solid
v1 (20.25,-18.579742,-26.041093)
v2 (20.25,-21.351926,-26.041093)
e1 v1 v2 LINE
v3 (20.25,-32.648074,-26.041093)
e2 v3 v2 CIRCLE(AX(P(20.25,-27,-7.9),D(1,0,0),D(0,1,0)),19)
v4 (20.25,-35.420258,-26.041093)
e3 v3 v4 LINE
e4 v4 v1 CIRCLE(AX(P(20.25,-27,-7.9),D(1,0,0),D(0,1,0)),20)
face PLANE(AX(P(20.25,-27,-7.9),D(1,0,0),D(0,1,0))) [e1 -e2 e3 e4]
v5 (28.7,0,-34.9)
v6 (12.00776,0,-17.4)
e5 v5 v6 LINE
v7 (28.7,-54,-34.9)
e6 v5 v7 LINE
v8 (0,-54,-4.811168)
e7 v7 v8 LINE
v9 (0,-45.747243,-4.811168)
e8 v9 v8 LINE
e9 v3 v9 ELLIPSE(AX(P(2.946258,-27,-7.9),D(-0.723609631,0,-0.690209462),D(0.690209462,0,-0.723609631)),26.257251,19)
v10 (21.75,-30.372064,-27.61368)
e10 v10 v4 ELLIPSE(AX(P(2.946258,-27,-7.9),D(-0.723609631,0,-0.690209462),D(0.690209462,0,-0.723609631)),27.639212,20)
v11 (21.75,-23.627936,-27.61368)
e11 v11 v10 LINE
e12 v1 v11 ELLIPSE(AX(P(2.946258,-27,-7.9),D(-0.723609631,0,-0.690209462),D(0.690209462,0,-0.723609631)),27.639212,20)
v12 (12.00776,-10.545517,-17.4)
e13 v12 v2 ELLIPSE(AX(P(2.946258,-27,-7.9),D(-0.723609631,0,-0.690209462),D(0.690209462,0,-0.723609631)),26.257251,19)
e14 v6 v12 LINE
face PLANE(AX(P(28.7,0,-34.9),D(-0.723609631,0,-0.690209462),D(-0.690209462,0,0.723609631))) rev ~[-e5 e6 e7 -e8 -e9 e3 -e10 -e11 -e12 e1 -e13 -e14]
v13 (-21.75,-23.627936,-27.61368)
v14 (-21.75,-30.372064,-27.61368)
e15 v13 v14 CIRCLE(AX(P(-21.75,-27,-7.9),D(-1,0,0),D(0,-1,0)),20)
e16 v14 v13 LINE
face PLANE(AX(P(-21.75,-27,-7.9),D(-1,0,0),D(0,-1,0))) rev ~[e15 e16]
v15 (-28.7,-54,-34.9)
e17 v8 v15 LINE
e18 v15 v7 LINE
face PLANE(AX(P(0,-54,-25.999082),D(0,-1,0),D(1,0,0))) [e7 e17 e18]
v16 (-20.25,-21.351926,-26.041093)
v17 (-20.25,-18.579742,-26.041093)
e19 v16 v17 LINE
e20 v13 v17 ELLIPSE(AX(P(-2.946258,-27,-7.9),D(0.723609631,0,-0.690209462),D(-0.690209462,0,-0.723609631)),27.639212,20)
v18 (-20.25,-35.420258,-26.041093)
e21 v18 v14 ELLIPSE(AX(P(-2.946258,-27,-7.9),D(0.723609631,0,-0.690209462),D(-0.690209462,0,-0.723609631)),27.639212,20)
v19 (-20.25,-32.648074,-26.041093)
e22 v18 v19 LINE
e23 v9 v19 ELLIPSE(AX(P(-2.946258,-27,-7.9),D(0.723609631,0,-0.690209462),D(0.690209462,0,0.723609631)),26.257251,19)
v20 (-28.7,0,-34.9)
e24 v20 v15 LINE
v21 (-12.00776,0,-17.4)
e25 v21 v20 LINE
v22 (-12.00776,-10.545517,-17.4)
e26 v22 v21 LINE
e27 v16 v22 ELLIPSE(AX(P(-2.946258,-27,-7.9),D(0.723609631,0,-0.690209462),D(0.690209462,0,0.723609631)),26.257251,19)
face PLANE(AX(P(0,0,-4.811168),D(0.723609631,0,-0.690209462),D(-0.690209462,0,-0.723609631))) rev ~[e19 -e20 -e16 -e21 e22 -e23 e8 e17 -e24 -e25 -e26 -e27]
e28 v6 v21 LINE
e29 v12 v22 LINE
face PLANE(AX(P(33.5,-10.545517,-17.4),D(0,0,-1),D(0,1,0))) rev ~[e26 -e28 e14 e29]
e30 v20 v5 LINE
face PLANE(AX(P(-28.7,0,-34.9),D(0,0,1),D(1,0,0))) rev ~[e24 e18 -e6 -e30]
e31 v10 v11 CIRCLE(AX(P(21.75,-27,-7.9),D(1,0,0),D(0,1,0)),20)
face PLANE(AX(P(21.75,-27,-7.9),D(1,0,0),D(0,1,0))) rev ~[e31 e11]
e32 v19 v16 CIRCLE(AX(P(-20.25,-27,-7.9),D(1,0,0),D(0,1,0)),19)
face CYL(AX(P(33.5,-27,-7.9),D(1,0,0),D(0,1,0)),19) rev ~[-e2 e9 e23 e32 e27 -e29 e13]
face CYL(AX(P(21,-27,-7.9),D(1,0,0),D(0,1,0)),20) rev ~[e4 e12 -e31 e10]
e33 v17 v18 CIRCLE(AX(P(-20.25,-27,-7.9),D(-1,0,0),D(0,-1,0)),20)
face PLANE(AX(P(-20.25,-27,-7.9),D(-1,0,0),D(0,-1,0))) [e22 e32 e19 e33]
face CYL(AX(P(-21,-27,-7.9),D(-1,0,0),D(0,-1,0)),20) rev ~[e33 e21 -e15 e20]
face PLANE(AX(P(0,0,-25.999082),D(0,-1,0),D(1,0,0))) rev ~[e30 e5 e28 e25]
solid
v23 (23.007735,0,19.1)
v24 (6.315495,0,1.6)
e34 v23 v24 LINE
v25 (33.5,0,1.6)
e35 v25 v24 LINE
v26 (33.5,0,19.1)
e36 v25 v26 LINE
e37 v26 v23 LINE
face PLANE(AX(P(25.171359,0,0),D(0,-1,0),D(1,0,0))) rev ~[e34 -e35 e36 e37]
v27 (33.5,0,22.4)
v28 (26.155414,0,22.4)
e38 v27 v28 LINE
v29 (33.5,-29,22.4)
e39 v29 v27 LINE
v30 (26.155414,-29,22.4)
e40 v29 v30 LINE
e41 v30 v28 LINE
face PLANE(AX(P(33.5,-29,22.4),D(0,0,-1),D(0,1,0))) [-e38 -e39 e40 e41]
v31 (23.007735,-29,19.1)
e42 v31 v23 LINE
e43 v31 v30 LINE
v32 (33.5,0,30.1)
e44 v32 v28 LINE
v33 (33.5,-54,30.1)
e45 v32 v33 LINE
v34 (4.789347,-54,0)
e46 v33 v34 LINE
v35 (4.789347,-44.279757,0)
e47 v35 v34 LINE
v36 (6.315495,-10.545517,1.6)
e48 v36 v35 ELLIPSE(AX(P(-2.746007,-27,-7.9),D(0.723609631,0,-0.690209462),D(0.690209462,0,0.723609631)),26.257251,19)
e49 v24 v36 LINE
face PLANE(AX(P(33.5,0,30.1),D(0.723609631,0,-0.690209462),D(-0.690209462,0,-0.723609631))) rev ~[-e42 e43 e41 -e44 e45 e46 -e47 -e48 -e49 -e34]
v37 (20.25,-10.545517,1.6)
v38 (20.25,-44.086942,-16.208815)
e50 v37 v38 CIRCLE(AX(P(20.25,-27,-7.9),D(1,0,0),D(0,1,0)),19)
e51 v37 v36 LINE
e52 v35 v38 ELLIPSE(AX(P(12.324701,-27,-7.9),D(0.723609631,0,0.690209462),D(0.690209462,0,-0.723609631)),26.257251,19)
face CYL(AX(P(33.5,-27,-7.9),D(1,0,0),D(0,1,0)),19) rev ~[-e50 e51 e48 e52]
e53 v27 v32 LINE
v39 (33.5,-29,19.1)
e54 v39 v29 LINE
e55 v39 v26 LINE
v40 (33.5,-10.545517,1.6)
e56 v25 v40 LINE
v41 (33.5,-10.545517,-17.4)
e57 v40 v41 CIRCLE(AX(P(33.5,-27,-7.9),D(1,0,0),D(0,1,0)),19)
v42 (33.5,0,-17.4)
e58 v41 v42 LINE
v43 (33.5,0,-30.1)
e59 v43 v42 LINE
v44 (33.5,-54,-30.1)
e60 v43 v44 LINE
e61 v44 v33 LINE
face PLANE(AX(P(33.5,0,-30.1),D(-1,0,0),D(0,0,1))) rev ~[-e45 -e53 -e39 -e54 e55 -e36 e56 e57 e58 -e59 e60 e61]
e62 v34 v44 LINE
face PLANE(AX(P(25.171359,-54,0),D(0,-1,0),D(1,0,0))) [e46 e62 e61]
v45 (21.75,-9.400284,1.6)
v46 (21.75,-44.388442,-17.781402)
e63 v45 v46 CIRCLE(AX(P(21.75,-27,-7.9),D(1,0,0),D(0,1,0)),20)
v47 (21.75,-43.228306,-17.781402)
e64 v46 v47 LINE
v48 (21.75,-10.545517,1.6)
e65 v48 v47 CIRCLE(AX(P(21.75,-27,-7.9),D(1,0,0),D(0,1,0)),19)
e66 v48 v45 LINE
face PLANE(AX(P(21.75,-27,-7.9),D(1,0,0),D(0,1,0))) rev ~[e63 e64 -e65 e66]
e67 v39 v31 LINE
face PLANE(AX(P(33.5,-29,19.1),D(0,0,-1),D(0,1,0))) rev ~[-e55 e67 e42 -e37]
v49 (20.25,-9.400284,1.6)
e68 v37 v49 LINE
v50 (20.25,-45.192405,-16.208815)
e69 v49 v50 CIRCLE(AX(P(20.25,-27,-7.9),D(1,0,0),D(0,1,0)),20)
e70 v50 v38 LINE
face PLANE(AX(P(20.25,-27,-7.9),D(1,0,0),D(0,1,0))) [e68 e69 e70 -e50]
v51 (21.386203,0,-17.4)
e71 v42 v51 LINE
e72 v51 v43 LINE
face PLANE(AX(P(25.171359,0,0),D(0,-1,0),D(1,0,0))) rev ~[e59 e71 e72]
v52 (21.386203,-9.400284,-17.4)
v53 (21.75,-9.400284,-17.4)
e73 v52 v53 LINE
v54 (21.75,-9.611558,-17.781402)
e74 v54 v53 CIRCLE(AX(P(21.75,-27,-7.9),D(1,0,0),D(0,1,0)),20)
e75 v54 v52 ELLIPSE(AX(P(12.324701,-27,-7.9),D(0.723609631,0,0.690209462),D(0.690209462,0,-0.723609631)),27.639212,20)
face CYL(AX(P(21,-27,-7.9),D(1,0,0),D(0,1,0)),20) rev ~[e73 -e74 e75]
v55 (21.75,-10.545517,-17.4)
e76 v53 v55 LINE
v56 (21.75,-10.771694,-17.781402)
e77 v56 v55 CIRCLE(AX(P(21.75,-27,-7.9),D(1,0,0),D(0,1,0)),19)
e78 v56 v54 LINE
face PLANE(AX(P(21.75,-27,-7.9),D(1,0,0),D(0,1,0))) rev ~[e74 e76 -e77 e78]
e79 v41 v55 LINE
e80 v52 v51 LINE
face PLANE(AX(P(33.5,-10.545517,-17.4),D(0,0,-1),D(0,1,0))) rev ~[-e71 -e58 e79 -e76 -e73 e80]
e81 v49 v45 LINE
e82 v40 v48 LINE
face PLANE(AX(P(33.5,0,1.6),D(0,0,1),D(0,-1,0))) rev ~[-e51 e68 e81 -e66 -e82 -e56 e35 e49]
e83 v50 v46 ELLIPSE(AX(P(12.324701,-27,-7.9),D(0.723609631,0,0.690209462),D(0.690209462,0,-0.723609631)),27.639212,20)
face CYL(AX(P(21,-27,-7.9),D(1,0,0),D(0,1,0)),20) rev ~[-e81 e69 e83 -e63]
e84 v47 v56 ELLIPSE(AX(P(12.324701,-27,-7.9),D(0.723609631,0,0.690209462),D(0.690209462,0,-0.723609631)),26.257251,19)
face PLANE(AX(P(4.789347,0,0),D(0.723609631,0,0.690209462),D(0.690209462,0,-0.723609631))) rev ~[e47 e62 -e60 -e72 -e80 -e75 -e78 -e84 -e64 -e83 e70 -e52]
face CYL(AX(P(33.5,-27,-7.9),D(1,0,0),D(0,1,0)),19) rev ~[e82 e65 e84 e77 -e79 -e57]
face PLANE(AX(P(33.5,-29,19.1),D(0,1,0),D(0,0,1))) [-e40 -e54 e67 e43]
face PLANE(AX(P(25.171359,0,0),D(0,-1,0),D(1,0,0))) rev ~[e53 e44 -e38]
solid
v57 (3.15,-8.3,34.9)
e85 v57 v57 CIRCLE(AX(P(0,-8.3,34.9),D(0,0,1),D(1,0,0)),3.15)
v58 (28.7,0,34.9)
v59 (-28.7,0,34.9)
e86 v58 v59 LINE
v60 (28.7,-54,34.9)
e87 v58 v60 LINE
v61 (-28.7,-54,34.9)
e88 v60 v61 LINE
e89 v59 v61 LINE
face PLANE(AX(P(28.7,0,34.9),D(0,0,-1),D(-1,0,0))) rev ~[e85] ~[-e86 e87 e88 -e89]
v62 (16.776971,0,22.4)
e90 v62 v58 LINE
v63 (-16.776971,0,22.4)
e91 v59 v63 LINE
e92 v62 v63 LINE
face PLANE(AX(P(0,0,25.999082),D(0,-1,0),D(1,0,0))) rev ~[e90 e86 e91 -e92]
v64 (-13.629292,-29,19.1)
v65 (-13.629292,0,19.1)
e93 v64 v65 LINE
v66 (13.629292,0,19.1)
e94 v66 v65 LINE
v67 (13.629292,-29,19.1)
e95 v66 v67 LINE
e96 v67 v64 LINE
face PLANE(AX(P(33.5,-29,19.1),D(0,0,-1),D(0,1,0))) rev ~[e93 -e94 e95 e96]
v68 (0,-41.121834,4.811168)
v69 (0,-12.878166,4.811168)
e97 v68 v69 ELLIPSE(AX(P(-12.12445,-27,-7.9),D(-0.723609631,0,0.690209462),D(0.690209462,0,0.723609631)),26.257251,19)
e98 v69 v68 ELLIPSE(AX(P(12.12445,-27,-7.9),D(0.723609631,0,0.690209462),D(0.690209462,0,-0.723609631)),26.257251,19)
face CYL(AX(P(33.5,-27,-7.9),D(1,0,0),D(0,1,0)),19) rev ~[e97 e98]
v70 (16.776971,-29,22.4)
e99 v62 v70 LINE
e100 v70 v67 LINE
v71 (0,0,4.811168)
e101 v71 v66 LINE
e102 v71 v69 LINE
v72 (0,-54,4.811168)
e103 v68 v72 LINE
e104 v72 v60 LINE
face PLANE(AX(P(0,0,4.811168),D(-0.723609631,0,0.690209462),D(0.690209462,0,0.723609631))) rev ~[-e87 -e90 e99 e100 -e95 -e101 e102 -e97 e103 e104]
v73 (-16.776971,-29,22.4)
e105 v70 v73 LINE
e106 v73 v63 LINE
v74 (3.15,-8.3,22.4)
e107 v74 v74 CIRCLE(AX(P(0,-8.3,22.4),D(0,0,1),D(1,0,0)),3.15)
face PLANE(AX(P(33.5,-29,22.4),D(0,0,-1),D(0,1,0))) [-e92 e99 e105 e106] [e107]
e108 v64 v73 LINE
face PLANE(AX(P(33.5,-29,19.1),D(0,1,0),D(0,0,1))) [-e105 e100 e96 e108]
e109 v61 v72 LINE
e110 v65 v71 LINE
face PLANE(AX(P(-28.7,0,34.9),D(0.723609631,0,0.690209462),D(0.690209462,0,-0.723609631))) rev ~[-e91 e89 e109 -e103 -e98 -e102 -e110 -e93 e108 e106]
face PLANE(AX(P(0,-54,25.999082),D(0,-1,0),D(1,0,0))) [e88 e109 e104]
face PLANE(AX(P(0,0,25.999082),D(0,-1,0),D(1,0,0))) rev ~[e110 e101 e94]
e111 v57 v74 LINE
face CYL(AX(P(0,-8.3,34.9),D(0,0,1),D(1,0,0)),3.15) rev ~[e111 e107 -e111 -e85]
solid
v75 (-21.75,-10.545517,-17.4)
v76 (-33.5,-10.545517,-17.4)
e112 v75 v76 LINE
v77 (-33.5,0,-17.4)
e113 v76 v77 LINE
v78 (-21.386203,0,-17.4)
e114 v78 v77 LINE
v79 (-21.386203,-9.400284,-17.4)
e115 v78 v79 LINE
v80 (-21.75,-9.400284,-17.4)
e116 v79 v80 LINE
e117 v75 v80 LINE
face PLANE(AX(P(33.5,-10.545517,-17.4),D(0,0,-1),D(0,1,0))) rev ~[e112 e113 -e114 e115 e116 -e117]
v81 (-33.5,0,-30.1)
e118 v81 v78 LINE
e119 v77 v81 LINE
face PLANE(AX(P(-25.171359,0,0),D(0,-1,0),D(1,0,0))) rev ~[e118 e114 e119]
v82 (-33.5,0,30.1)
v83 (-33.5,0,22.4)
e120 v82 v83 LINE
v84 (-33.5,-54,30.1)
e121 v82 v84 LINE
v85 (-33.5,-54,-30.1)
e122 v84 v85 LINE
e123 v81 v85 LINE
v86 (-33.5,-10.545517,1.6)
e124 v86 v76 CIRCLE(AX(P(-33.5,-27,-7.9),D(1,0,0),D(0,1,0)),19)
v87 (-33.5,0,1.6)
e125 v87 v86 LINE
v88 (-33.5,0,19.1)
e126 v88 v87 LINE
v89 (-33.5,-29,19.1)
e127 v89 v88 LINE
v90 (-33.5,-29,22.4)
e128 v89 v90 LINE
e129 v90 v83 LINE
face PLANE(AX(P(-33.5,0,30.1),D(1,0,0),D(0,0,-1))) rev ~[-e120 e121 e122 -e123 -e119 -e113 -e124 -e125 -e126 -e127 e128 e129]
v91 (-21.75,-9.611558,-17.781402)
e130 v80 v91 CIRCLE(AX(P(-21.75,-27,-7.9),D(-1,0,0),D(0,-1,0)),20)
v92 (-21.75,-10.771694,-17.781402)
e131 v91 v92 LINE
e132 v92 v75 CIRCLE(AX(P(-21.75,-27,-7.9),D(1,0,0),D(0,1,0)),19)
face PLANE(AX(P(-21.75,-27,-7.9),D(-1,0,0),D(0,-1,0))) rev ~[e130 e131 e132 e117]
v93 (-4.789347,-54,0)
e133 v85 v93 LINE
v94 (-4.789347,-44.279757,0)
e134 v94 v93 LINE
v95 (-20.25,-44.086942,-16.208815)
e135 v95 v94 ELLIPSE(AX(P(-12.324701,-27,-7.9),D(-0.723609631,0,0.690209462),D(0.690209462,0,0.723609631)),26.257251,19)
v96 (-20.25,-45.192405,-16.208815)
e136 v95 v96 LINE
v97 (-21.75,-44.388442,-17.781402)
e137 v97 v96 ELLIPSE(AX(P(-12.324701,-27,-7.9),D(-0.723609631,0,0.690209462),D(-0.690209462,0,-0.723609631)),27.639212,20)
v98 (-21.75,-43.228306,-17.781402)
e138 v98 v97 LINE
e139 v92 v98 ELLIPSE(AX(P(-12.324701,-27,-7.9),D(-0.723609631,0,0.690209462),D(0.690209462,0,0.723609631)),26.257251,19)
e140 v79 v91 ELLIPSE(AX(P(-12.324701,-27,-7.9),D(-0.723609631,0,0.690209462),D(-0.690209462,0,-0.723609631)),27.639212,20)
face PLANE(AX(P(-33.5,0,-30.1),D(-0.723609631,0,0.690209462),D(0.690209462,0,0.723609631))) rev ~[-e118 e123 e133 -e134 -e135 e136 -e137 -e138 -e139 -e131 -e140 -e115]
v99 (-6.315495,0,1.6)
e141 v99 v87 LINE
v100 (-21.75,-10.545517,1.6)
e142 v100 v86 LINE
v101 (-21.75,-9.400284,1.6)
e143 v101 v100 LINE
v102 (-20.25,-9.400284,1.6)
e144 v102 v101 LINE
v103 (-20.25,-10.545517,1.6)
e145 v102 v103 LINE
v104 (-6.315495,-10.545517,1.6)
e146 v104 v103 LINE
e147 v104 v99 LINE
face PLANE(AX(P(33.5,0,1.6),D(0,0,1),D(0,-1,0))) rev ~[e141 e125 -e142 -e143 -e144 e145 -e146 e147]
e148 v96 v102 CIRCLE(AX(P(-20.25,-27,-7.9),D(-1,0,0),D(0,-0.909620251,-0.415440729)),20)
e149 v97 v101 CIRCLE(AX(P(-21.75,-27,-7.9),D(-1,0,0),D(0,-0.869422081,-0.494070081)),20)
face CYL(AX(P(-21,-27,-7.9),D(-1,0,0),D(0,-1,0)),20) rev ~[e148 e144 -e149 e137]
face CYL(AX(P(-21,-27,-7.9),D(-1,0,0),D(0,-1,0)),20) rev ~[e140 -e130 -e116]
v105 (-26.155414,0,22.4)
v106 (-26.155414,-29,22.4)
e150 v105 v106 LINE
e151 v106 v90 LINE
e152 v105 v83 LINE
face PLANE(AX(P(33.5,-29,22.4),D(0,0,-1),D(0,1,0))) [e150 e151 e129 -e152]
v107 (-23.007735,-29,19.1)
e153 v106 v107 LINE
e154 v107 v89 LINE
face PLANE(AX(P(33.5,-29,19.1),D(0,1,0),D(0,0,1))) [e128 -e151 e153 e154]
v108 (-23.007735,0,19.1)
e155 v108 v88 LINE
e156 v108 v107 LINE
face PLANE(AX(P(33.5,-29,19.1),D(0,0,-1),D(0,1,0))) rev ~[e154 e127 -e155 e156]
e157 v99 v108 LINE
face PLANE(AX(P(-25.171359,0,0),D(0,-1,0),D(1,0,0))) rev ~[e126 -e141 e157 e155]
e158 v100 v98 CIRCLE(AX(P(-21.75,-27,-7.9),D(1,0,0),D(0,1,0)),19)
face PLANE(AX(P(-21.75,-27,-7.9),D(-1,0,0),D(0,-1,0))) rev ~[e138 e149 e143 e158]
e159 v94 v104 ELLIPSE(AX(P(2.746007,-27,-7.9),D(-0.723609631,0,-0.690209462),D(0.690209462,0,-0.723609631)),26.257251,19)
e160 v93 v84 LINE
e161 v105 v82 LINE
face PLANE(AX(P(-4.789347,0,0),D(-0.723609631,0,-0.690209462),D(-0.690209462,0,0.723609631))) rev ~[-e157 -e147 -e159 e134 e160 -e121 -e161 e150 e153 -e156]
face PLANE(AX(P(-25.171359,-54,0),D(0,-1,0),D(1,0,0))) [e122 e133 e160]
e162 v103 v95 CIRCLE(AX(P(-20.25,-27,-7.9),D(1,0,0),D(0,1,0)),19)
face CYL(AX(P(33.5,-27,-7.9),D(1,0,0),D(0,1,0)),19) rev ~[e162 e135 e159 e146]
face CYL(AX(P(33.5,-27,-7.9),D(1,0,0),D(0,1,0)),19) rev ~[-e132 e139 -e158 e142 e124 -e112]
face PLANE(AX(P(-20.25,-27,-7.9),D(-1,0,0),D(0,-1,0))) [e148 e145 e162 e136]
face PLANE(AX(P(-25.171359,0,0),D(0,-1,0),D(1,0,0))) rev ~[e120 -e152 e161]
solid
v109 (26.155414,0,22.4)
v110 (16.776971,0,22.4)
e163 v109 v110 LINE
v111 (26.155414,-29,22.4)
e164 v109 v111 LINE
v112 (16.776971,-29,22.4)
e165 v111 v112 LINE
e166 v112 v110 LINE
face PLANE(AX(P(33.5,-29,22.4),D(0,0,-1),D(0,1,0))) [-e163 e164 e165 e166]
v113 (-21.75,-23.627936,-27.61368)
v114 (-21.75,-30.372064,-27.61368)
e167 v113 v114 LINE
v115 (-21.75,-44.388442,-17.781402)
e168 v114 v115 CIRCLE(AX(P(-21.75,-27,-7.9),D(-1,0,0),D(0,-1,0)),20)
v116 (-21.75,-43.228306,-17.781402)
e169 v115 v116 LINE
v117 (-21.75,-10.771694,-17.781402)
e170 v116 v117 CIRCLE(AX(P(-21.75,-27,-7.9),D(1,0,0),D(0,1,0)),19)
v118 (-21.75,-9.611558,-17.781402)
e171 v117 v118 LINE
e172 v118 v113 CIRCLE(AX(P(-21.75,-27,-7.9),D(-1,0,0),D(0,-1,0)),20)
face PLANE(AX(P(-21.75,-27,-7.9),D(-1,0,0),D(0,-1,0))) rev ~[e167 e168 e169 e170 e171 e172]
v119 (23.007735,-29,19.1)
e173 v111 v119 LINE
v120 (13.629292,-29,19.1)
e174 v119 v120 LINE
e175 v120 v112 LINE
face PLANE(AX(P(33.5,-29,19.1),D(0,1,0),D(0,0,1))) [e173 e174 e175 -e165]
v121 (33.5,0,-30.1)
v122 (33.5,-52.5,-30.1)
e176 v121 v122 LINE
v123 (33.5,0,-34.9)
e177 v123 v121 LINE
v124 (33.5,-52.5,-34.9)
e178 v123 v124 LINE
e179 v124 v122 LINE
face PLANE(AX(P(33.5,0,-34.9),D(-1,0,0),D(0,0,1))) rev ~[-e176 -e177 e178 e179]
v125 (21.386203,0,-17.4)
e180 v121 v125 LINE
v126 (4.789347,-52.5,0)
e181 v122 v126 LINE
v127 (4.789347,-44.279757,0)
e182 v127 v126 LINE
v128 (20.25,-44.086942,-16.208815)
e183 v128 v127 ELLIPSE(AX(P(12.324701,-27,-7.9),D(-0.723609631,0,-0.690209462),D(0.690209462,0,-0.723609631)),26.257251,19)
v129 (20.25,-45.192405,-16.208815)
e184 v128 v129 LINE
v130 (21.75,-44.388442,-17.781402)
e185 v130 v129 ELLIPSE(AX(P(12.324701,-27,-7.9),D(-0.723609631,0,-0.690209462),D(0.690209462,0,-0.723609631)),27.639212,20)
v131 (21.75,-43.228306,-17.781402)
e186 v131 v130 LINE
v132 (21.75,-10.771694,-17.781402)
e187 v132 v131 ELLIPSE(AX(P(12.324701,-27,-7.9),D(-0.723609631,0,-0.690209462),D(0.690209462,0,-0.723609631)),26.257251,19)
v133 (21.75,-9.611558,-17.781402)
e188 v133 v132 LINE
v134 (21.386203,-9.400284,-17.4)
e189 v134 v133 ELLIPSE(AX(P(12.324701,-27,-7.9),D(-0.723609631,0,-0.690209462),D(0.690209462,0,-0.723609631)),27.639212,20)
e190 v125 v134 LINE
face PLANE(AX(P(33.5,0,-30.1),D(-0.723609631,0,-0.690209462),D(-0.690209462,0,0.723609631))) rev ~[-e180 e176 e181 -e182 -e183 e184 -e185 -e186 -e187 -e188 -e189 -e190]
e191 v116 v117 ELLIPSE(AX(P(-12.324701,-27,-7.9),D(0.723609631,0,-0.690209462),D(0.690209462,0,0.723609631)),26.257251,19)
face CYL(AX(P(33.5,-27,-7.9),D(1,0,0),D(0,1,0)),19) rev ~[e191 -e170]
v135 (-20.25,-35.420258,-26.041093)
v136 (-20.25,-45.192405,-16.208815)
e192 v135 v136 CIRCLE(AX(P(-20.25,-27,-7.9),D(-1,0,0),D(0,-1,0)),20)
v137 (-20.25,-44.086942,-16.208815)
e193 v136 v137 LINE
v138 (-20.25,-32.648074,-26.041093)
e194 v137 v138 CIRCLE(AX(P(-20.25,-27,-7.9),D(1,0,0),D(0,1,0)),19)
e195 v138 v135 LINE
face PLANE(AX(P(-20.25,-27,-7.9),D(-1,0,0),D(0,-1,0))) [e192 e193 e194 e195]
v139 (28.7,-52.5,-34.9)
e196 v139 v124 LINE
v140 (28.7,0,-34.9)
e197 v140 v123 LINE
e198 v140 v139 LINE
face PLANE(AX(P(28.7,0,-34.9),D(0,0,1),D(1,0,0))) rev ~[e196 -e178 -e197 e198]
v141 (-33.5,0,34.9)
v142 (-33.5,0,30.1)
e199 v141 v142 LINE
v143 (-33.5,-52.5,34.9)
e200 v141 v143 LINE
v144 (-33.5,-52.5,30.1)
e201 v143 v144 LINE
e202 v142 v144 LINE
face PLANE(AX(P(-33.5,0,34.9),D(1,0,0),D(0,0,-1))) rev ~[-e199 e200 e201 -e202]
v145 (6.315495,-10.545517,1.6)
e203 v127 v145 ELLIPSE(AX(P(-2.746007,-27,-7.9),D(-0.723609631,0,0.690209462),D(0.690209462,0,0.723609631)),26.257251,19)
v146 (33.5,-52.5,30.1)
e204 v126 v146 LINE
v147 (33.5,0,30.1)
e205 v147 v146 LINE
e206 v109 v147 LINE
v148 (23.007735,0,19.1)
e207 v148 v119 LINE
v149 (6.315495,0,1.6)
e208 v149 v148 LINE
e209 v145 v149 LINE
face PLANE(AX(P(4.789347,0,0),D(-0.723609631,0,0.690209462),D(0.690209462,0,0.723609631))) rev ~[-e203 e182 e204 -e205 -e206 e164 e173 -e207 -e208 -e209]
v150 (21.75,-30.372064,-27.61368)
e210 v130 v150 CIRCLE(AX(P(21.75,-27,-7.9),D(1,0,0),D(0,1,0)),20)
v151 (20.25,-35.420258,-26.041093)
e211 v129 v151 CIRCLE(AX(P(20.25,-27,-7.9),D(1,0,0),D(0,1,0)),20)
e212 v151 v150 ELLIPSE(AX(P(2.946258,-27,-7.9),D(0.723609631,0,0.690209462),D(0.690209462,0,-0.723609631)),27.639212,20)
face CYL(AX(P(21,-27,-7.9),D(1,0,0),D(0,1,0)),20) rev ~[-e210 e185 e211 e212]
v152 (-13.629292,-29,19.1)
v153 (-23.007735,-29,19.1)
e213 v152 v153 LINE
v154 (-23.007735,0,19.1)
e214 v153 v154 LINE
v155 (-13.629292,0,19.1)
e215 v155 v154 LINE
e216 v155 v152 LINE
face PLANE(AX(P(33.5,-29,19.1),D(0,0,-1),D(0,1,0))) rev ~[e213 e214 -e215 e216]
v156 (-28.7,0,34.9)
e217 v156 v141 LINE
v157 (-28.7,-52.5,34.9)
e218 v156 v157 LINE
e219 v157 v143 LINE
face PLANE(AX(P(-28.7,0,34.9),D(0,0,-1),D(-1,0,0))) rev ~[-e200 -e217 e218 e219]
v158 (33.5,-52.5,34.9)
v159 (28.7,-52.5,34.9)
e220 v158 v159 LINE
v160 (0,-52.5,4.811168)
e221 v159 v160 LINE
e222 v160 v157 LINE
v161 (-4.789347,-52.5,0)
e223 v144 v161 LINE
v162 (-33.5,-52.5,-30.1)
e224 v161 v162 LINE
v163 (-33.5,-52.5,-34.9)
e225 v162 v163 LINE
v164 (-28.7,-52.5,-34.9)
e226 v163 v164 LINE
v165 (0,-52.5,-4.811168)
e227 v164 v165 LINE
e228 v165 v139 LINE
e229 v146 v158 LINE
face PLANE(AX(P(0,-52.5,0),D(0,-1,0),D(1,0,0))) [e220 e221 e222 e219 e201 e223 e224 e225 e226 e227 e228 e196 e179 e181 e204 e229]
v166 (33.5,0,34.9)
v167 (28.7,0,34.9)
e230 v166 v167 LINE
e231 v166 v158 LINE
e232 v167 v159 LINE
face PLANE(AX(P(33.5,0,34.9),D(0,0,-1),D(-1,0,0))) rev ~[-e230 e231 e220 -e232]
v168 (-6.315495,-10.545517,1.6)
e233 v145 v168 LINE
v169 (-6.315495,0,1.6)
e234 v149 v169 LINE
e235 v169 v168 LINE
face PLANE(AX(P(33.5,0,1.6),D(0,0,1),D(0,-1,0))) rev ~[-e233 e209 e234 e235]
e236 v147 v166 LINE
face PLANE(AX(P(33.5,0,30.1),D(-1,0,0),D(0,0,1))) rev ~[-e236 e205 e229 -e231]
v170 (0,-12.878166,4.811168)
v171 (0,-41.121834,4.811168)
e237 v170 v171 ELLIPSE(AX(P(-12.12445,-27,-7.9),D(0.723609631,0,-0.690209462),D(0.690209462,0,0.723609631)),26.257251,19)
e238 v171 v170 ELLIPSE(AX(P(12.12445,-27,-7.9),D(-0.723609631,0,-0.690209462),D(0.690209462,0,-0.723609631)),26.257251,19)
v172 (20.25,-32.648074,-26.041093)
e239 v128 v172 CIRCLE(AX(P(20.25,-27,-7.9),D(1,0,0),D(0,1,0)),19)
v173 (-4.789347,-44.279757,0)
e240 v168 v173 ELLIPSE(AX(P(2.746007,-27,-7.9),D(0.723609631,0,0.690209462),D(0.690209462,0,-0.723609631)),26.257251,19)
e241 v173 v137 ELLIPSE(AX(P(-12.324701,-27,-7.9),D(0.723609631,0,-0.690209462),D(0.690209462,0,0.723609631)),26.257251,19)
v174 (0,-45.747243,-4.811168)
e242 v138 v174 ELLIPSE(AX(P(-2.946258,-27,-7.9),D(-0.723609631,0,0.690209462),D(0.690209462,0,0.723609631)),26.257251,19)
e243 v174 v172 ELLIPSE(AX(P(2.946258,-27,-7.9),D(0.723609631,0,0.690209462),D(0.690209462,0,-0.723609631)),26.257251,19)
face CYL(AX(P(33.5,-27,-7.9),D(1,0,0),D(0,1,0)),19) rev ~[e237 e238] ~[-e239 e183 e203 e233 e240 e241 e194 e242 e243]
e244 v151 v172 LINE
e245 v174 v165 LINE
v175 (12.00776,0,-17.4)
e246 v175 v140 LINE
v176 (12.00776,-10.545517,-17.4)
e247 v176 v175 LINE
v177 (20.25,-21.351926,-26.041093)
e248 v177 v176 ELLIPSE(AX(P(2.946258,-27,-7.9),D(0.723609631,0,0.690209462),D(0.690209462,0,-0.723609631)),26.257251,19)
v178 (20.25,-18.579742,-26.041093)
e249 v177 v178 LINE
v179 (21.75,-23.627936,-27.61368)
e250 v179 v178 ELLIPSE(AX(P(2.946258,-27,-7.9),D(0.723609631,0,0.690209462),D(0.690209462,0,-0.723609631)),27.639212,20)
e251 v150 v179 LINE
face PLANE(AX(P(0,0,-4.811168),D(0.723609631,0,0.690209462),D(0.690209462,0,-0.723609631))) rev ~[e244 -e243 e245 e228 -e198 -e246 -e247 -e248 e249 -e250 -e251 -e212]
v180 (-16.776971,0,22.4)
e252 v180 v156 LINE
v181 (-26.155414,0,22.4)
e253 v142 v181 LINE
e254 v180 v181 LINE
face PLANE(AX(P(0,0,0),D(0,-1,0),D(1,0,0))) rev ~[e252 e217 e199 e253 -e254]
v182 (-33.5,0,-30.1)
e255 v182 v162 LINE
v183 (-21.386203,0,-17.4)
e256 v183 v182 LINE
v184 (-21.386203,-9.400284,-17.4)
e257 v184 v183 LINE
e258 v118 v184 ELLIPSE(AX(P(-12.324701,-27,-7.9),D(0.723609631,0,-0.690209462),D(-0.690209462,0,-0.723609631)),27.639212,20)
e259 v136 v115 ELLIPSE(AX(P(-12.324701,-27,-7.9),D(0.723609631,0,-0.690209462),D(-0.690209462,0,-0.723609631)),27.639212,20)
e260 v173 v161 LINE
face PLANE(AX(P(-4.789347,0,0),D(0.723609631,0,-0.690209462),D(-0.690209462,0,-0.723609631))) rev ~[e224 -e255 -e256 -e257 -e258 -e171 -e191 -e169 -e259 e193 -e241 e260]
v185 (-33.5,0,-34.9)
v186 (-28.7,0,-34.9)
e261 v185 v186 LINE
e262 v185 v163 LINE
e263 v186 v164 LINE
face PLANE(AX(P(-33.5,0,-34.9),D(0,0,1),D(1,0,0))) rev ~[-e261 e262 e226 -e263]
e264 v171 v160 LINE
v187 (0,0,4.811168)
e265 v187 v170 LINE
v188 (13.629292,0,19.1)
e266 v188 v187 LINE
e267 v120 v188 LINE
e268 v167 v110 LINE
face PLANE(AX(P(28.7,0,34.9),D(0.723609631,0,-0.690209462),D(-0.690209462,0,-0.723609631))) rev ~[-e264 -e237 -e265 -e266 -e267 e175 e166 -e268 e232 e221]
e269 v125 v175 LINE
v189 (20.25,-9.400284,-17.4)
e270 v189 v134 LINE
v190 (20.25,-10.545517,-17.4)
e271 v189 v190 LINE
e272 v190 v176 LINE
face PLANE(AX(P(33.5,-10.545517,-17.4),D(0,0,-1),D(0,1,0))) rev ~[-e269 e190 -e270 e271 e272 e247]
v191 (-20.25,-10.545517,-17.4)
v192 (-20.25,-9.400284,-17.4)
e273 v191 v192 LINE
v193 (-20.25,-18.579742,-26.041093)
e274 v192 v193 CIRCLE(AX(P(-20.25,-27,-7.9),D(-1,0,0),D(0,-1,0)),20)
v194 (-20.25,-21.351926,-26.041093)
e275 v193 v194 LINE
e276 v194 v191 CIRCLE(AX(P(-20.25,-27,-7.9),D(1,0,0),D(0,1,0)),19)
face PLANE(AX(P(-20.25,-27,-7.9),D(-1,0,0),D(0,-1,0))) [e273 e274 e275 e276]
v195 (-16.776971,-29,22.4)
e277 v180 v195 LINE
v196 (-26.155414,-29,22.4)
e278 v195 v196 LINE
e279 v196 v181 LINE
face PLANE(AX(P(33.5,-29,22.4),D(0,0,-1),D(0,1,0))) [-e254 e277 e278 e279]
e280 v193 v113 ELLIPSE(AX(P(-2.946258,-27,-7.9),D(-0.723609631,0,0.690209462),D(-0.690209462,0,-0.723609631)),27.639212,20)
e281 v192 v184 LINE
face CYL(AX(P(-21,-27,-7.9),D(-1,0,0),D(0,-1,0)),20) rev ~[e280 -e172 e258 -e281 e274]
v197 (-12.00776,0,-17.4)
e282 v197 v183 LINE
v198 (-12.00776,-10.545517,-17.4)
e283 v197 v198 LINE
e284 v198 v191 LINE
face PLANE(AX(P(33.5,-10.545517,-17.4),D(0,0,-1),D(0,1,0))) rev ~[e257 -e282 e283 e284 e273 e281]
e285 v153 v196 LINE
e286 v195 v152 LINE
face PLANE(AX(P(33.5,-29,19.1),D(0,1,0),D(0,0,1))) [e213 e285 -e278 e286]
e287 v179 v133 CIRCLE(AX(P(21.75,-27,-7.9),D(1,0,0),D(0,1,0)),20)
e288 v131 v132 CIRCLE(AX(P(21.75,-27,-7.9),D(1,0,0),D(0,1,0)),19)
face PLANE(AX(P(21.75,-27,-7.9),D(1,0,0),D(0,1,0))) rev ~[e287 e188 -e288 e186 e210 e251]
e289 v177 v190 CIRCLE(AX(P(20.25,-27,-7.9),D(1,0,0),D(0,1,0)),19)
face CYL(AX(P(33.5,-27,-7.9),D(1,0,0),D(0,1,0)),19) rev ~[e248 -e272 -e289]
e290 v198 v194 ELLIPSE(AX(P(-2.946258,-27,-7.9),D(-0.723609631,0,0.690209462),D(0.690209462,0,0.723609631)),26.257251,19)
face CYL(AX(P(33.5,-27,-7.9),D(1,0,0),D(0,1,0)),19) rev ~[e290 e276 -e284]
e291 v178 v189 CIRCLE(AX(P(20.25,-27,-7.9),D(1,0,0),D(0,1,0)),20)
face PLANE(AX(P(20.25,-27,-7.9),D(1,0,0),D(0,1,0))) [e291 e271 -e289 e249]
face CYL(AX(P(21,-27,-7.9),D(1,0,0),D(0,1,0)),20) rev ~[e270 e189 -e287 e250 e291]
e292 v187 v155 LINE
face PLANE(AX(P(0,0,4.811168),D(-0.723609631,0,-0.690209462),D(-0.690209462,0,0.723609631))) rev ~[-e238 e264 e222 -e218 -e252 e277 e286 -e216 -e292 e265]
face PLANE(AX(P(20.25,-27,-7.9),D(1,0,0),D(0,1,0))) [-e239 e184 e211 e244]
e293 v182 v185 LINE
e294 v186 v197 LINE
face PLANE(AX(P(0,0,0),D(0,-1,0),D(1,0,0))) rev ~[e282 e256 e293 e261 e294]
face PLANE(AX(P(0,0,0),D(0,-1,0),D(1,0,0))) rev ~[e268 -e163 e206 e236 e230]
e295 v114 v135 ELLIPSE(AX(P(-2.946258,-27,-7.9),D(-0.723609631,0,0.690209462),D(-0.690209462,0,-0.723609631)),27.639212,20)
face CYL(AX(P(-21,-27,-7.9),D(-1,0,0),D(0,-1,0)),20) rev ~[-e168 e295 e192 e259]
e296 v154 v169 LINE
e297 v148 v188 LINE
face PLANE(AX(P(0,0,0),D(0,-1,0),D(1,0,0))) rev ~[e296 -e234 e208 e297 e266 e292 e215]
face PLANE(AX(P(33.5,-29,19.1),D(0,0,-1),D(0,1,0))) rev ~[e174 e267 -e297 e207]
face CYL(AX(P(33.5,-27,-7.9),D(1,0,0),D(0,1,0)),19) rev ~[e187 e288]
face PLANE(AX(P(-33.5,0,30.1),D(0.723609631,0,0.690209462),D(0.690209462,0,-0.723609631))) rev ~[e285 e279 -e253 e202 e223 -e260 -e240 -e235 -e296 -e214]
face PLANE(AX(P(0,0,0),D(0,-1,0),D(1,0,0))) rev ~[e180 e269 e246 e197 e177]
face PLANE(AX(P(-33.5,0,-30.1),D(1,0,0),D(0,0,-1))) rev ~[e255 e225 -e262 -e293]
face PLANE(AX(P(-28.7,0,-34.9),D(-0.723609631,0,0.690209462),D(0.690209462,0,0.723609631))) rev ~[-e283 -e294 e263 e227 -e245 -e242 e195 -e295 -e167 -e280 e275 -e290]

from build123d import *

# Parameters (mm, degrees)
F1_DEPTH  = 54
F2_DEPTH  = 52.5
F4_W      = 29
F4_H      = 3.3
F5_DEPTH  = 67
F7_R      = 3.15
F8_DEPTH  = 12.5
F10_R     = 20
F11_DEPTH = 0.75
F13_R     = 20
F14_DEPTH = 0.75


with BuildPart() as f1:
    # F0 (on Front) → F1 (new body)
    with BuildSketch(Plane.XZ):
        Polygon((-4.7893472947, 0), (-33.5, 30.1), (-33.5, -30.1), align=None)
    extrude(amount=F1_DEPTH)


with BuildPart() as f1b:
    # F0 (on Front) → F1, piece 2 (new body)
    with BuildSketch(Plane.XZ):
        Polygon((0, 4.8111682041), (28.7, 34.9), (-28.7, 34.9), align=None)
    extrude(amount=F1_DEPTH)


with BuildPart() as f1c:
    # F0 (on Front) → F1, piece 3 (new body)
    with BuildSketch(Plane.XZ):
        Polygon((33.5, -30.1), (33.5, 30.1), (4.7893472947, 0), align=None)
    extrude(amount=F1_DEPTH)


with BuildPart() as f1d:
    # F0 (on Front) → F1, piece 4 (new body)
    with BuildSketch(Plane.XZ):
        Polygon((-28.7, -34.9), (28.7, -34.9), (0, -4.8111682041), align=None)
    extrude(amount=F1_DEPTH)


with BuildPart() as f2:
    # F0 (on Front) → F2 (new body)
    with BuildSketch(Plane.XZ):
        Polygon((33.5, 30.1), (33.5, 34.9), (28.7, 34.9), (0, 4.8111682041), (-28.7, 34.9), (-33.5, 34.9), (-33.5, 30.1), (-4.7893472947, 0), (-33.5, -30.1), (-33.5, -34.9), (-28.7, -34.9), (0, -4.8111682041), (28.7, -34.9), (33.5, -34.9), (33.5, -30.1), (4.7893472947, 0), align=None)
    extrude(amount=F2_DEPTH)


with BuildPart() as f5_tool:
    # F4 (on offset) → F5 (new body)
    with BuildSketch(Plane.YZ.offset(33.5)):
        with Locations((-14.5, 20.75)):
            Rectangle(F4_W, F4_H)
        with BuildLine():
            ThreePointArc((-10.5455173281, -17.4), (-8.6474093005, -12.8175618569), (-8, -7.9))
            ThreePointArc((-8, -7.9), (-8.6474093005, -2.9824381431), (-10.5455173281, 1.6))
            ThreePointArc((-10.5455173281, 1.6), (-46, -7.9), (-10.5455173281, -17.4))
        make_face()
        with BuildLine():
            ThreePointArc((-10.5455173281, 1.6), (-8.6474093005, -2.9824381431), (-8, -7.9))
            ThreePointArc((-8, -7.9), (-8.6474093005, -12.8175618569), (-10.5455173281, -17.4))
            Line((-10.5455173281, -17.4), (0, -17.4))
            Line((0, -17.4), (0, 1.6))
            Line((0, 1.6), (-10.5455173281, 1.6))
        make_face()
    extrude(amount=-F5_DEPTH)


with BuildPart() as f1_1:
    add(f1.part)

    # F5: cut by f5_tool
    add(f5_tool.part, mode=Mode.SUBTRACT)


with BuildPart() as f1b_1:
    add(f1b.part)

    # F5: cut by f5_tool
    add(f5_tool.part, mode=Mode.SUBTRACT)

    # F7 (on offset) → F8 (cut)
    with BuildSketch(Plane.XY.offset(34.9)):
        with Locations((0, -8.3)):
            Circle(F7_R)
    extrude(amount=-F8_DEPTH, mode=Mode.SUBTRACT)


with BuildPart() as f1c_1:
    add(f1c.part)

    # F5: cut by f5_tool
    add(f5_tool.part, mode=Mode.SUBTRACT)


with BuildPart() as f1d_1:
    add(f1d.part)

    # F5: cut by f5_tool
    add(f5_tool.part, mode=Mode.SUBTRACT)


with BuildPart() as f2_1:
    add(f2.part)

    # F5: cut by f5_tool
    add(f5_tool.part, mode=Mode.SUBTRACT)


with BuildPart() as f11_tool:
    # F10 (on offset) → F11 (new body, symmetric)
    with BuildSketch(Plane.YZ.offset(21)):
        with Locations((-27, -7.9)):
            Circle(F10_R)
    extrude(amount=F11_DEPTH, both=True)


with BuildPart() as f1c_2:
    add(f1c_1.part)

    # F11: cut by f11_tool
    add(f11_tool.part, mode=Mode.SUBTRACT)


with BuildPart() as f1d_2:
    add(f1d_1.part)

    # F11: cut by f11_tool
    add(f11_tool.part, mode=Mode.SUBTRACT)


with BuildPart() as f2_2:
    add(f2_1.part)

    # F11: cut by f11_tool
    add(f11_tool.part, mode=Mode.SUBTRACT)


with BuildPart() as f14_tool:
    # F13 (on offset) → F14 (new body, symmetric)
    with BuildSketch(Plane(origin=(-21, 0, 0), x_dir=(0, -1, 0), z_dir=(-1, 0, 0))):
        with Locations((27, -7.9)):
            Circle(F13_R)
    extrude(amount=F14_DEPTH, both=True)


with BuildPart() as f1_2:
    add(f1_1.part)

    # F14: cut by f14_tool
    add(f14_tool.part, mode=Mode.SUBTRACT)


with BuildPart() as f1d_3:
    add(f1d_2.part)

    # F14: cut by f14_tool
    add(f14_tool.part, mode=Mode.SUBTRACT)


with BuildPart() as f2_3:
    add(f2_2.part)

    # F14: cut by f14_tool
    add(f14_tool.part, mode=Mode.SUBTRACT)


solid = Compound([f1b_1.part, f1c_2.part, f1_2.part, f1d_3.part, f2_3.part])
